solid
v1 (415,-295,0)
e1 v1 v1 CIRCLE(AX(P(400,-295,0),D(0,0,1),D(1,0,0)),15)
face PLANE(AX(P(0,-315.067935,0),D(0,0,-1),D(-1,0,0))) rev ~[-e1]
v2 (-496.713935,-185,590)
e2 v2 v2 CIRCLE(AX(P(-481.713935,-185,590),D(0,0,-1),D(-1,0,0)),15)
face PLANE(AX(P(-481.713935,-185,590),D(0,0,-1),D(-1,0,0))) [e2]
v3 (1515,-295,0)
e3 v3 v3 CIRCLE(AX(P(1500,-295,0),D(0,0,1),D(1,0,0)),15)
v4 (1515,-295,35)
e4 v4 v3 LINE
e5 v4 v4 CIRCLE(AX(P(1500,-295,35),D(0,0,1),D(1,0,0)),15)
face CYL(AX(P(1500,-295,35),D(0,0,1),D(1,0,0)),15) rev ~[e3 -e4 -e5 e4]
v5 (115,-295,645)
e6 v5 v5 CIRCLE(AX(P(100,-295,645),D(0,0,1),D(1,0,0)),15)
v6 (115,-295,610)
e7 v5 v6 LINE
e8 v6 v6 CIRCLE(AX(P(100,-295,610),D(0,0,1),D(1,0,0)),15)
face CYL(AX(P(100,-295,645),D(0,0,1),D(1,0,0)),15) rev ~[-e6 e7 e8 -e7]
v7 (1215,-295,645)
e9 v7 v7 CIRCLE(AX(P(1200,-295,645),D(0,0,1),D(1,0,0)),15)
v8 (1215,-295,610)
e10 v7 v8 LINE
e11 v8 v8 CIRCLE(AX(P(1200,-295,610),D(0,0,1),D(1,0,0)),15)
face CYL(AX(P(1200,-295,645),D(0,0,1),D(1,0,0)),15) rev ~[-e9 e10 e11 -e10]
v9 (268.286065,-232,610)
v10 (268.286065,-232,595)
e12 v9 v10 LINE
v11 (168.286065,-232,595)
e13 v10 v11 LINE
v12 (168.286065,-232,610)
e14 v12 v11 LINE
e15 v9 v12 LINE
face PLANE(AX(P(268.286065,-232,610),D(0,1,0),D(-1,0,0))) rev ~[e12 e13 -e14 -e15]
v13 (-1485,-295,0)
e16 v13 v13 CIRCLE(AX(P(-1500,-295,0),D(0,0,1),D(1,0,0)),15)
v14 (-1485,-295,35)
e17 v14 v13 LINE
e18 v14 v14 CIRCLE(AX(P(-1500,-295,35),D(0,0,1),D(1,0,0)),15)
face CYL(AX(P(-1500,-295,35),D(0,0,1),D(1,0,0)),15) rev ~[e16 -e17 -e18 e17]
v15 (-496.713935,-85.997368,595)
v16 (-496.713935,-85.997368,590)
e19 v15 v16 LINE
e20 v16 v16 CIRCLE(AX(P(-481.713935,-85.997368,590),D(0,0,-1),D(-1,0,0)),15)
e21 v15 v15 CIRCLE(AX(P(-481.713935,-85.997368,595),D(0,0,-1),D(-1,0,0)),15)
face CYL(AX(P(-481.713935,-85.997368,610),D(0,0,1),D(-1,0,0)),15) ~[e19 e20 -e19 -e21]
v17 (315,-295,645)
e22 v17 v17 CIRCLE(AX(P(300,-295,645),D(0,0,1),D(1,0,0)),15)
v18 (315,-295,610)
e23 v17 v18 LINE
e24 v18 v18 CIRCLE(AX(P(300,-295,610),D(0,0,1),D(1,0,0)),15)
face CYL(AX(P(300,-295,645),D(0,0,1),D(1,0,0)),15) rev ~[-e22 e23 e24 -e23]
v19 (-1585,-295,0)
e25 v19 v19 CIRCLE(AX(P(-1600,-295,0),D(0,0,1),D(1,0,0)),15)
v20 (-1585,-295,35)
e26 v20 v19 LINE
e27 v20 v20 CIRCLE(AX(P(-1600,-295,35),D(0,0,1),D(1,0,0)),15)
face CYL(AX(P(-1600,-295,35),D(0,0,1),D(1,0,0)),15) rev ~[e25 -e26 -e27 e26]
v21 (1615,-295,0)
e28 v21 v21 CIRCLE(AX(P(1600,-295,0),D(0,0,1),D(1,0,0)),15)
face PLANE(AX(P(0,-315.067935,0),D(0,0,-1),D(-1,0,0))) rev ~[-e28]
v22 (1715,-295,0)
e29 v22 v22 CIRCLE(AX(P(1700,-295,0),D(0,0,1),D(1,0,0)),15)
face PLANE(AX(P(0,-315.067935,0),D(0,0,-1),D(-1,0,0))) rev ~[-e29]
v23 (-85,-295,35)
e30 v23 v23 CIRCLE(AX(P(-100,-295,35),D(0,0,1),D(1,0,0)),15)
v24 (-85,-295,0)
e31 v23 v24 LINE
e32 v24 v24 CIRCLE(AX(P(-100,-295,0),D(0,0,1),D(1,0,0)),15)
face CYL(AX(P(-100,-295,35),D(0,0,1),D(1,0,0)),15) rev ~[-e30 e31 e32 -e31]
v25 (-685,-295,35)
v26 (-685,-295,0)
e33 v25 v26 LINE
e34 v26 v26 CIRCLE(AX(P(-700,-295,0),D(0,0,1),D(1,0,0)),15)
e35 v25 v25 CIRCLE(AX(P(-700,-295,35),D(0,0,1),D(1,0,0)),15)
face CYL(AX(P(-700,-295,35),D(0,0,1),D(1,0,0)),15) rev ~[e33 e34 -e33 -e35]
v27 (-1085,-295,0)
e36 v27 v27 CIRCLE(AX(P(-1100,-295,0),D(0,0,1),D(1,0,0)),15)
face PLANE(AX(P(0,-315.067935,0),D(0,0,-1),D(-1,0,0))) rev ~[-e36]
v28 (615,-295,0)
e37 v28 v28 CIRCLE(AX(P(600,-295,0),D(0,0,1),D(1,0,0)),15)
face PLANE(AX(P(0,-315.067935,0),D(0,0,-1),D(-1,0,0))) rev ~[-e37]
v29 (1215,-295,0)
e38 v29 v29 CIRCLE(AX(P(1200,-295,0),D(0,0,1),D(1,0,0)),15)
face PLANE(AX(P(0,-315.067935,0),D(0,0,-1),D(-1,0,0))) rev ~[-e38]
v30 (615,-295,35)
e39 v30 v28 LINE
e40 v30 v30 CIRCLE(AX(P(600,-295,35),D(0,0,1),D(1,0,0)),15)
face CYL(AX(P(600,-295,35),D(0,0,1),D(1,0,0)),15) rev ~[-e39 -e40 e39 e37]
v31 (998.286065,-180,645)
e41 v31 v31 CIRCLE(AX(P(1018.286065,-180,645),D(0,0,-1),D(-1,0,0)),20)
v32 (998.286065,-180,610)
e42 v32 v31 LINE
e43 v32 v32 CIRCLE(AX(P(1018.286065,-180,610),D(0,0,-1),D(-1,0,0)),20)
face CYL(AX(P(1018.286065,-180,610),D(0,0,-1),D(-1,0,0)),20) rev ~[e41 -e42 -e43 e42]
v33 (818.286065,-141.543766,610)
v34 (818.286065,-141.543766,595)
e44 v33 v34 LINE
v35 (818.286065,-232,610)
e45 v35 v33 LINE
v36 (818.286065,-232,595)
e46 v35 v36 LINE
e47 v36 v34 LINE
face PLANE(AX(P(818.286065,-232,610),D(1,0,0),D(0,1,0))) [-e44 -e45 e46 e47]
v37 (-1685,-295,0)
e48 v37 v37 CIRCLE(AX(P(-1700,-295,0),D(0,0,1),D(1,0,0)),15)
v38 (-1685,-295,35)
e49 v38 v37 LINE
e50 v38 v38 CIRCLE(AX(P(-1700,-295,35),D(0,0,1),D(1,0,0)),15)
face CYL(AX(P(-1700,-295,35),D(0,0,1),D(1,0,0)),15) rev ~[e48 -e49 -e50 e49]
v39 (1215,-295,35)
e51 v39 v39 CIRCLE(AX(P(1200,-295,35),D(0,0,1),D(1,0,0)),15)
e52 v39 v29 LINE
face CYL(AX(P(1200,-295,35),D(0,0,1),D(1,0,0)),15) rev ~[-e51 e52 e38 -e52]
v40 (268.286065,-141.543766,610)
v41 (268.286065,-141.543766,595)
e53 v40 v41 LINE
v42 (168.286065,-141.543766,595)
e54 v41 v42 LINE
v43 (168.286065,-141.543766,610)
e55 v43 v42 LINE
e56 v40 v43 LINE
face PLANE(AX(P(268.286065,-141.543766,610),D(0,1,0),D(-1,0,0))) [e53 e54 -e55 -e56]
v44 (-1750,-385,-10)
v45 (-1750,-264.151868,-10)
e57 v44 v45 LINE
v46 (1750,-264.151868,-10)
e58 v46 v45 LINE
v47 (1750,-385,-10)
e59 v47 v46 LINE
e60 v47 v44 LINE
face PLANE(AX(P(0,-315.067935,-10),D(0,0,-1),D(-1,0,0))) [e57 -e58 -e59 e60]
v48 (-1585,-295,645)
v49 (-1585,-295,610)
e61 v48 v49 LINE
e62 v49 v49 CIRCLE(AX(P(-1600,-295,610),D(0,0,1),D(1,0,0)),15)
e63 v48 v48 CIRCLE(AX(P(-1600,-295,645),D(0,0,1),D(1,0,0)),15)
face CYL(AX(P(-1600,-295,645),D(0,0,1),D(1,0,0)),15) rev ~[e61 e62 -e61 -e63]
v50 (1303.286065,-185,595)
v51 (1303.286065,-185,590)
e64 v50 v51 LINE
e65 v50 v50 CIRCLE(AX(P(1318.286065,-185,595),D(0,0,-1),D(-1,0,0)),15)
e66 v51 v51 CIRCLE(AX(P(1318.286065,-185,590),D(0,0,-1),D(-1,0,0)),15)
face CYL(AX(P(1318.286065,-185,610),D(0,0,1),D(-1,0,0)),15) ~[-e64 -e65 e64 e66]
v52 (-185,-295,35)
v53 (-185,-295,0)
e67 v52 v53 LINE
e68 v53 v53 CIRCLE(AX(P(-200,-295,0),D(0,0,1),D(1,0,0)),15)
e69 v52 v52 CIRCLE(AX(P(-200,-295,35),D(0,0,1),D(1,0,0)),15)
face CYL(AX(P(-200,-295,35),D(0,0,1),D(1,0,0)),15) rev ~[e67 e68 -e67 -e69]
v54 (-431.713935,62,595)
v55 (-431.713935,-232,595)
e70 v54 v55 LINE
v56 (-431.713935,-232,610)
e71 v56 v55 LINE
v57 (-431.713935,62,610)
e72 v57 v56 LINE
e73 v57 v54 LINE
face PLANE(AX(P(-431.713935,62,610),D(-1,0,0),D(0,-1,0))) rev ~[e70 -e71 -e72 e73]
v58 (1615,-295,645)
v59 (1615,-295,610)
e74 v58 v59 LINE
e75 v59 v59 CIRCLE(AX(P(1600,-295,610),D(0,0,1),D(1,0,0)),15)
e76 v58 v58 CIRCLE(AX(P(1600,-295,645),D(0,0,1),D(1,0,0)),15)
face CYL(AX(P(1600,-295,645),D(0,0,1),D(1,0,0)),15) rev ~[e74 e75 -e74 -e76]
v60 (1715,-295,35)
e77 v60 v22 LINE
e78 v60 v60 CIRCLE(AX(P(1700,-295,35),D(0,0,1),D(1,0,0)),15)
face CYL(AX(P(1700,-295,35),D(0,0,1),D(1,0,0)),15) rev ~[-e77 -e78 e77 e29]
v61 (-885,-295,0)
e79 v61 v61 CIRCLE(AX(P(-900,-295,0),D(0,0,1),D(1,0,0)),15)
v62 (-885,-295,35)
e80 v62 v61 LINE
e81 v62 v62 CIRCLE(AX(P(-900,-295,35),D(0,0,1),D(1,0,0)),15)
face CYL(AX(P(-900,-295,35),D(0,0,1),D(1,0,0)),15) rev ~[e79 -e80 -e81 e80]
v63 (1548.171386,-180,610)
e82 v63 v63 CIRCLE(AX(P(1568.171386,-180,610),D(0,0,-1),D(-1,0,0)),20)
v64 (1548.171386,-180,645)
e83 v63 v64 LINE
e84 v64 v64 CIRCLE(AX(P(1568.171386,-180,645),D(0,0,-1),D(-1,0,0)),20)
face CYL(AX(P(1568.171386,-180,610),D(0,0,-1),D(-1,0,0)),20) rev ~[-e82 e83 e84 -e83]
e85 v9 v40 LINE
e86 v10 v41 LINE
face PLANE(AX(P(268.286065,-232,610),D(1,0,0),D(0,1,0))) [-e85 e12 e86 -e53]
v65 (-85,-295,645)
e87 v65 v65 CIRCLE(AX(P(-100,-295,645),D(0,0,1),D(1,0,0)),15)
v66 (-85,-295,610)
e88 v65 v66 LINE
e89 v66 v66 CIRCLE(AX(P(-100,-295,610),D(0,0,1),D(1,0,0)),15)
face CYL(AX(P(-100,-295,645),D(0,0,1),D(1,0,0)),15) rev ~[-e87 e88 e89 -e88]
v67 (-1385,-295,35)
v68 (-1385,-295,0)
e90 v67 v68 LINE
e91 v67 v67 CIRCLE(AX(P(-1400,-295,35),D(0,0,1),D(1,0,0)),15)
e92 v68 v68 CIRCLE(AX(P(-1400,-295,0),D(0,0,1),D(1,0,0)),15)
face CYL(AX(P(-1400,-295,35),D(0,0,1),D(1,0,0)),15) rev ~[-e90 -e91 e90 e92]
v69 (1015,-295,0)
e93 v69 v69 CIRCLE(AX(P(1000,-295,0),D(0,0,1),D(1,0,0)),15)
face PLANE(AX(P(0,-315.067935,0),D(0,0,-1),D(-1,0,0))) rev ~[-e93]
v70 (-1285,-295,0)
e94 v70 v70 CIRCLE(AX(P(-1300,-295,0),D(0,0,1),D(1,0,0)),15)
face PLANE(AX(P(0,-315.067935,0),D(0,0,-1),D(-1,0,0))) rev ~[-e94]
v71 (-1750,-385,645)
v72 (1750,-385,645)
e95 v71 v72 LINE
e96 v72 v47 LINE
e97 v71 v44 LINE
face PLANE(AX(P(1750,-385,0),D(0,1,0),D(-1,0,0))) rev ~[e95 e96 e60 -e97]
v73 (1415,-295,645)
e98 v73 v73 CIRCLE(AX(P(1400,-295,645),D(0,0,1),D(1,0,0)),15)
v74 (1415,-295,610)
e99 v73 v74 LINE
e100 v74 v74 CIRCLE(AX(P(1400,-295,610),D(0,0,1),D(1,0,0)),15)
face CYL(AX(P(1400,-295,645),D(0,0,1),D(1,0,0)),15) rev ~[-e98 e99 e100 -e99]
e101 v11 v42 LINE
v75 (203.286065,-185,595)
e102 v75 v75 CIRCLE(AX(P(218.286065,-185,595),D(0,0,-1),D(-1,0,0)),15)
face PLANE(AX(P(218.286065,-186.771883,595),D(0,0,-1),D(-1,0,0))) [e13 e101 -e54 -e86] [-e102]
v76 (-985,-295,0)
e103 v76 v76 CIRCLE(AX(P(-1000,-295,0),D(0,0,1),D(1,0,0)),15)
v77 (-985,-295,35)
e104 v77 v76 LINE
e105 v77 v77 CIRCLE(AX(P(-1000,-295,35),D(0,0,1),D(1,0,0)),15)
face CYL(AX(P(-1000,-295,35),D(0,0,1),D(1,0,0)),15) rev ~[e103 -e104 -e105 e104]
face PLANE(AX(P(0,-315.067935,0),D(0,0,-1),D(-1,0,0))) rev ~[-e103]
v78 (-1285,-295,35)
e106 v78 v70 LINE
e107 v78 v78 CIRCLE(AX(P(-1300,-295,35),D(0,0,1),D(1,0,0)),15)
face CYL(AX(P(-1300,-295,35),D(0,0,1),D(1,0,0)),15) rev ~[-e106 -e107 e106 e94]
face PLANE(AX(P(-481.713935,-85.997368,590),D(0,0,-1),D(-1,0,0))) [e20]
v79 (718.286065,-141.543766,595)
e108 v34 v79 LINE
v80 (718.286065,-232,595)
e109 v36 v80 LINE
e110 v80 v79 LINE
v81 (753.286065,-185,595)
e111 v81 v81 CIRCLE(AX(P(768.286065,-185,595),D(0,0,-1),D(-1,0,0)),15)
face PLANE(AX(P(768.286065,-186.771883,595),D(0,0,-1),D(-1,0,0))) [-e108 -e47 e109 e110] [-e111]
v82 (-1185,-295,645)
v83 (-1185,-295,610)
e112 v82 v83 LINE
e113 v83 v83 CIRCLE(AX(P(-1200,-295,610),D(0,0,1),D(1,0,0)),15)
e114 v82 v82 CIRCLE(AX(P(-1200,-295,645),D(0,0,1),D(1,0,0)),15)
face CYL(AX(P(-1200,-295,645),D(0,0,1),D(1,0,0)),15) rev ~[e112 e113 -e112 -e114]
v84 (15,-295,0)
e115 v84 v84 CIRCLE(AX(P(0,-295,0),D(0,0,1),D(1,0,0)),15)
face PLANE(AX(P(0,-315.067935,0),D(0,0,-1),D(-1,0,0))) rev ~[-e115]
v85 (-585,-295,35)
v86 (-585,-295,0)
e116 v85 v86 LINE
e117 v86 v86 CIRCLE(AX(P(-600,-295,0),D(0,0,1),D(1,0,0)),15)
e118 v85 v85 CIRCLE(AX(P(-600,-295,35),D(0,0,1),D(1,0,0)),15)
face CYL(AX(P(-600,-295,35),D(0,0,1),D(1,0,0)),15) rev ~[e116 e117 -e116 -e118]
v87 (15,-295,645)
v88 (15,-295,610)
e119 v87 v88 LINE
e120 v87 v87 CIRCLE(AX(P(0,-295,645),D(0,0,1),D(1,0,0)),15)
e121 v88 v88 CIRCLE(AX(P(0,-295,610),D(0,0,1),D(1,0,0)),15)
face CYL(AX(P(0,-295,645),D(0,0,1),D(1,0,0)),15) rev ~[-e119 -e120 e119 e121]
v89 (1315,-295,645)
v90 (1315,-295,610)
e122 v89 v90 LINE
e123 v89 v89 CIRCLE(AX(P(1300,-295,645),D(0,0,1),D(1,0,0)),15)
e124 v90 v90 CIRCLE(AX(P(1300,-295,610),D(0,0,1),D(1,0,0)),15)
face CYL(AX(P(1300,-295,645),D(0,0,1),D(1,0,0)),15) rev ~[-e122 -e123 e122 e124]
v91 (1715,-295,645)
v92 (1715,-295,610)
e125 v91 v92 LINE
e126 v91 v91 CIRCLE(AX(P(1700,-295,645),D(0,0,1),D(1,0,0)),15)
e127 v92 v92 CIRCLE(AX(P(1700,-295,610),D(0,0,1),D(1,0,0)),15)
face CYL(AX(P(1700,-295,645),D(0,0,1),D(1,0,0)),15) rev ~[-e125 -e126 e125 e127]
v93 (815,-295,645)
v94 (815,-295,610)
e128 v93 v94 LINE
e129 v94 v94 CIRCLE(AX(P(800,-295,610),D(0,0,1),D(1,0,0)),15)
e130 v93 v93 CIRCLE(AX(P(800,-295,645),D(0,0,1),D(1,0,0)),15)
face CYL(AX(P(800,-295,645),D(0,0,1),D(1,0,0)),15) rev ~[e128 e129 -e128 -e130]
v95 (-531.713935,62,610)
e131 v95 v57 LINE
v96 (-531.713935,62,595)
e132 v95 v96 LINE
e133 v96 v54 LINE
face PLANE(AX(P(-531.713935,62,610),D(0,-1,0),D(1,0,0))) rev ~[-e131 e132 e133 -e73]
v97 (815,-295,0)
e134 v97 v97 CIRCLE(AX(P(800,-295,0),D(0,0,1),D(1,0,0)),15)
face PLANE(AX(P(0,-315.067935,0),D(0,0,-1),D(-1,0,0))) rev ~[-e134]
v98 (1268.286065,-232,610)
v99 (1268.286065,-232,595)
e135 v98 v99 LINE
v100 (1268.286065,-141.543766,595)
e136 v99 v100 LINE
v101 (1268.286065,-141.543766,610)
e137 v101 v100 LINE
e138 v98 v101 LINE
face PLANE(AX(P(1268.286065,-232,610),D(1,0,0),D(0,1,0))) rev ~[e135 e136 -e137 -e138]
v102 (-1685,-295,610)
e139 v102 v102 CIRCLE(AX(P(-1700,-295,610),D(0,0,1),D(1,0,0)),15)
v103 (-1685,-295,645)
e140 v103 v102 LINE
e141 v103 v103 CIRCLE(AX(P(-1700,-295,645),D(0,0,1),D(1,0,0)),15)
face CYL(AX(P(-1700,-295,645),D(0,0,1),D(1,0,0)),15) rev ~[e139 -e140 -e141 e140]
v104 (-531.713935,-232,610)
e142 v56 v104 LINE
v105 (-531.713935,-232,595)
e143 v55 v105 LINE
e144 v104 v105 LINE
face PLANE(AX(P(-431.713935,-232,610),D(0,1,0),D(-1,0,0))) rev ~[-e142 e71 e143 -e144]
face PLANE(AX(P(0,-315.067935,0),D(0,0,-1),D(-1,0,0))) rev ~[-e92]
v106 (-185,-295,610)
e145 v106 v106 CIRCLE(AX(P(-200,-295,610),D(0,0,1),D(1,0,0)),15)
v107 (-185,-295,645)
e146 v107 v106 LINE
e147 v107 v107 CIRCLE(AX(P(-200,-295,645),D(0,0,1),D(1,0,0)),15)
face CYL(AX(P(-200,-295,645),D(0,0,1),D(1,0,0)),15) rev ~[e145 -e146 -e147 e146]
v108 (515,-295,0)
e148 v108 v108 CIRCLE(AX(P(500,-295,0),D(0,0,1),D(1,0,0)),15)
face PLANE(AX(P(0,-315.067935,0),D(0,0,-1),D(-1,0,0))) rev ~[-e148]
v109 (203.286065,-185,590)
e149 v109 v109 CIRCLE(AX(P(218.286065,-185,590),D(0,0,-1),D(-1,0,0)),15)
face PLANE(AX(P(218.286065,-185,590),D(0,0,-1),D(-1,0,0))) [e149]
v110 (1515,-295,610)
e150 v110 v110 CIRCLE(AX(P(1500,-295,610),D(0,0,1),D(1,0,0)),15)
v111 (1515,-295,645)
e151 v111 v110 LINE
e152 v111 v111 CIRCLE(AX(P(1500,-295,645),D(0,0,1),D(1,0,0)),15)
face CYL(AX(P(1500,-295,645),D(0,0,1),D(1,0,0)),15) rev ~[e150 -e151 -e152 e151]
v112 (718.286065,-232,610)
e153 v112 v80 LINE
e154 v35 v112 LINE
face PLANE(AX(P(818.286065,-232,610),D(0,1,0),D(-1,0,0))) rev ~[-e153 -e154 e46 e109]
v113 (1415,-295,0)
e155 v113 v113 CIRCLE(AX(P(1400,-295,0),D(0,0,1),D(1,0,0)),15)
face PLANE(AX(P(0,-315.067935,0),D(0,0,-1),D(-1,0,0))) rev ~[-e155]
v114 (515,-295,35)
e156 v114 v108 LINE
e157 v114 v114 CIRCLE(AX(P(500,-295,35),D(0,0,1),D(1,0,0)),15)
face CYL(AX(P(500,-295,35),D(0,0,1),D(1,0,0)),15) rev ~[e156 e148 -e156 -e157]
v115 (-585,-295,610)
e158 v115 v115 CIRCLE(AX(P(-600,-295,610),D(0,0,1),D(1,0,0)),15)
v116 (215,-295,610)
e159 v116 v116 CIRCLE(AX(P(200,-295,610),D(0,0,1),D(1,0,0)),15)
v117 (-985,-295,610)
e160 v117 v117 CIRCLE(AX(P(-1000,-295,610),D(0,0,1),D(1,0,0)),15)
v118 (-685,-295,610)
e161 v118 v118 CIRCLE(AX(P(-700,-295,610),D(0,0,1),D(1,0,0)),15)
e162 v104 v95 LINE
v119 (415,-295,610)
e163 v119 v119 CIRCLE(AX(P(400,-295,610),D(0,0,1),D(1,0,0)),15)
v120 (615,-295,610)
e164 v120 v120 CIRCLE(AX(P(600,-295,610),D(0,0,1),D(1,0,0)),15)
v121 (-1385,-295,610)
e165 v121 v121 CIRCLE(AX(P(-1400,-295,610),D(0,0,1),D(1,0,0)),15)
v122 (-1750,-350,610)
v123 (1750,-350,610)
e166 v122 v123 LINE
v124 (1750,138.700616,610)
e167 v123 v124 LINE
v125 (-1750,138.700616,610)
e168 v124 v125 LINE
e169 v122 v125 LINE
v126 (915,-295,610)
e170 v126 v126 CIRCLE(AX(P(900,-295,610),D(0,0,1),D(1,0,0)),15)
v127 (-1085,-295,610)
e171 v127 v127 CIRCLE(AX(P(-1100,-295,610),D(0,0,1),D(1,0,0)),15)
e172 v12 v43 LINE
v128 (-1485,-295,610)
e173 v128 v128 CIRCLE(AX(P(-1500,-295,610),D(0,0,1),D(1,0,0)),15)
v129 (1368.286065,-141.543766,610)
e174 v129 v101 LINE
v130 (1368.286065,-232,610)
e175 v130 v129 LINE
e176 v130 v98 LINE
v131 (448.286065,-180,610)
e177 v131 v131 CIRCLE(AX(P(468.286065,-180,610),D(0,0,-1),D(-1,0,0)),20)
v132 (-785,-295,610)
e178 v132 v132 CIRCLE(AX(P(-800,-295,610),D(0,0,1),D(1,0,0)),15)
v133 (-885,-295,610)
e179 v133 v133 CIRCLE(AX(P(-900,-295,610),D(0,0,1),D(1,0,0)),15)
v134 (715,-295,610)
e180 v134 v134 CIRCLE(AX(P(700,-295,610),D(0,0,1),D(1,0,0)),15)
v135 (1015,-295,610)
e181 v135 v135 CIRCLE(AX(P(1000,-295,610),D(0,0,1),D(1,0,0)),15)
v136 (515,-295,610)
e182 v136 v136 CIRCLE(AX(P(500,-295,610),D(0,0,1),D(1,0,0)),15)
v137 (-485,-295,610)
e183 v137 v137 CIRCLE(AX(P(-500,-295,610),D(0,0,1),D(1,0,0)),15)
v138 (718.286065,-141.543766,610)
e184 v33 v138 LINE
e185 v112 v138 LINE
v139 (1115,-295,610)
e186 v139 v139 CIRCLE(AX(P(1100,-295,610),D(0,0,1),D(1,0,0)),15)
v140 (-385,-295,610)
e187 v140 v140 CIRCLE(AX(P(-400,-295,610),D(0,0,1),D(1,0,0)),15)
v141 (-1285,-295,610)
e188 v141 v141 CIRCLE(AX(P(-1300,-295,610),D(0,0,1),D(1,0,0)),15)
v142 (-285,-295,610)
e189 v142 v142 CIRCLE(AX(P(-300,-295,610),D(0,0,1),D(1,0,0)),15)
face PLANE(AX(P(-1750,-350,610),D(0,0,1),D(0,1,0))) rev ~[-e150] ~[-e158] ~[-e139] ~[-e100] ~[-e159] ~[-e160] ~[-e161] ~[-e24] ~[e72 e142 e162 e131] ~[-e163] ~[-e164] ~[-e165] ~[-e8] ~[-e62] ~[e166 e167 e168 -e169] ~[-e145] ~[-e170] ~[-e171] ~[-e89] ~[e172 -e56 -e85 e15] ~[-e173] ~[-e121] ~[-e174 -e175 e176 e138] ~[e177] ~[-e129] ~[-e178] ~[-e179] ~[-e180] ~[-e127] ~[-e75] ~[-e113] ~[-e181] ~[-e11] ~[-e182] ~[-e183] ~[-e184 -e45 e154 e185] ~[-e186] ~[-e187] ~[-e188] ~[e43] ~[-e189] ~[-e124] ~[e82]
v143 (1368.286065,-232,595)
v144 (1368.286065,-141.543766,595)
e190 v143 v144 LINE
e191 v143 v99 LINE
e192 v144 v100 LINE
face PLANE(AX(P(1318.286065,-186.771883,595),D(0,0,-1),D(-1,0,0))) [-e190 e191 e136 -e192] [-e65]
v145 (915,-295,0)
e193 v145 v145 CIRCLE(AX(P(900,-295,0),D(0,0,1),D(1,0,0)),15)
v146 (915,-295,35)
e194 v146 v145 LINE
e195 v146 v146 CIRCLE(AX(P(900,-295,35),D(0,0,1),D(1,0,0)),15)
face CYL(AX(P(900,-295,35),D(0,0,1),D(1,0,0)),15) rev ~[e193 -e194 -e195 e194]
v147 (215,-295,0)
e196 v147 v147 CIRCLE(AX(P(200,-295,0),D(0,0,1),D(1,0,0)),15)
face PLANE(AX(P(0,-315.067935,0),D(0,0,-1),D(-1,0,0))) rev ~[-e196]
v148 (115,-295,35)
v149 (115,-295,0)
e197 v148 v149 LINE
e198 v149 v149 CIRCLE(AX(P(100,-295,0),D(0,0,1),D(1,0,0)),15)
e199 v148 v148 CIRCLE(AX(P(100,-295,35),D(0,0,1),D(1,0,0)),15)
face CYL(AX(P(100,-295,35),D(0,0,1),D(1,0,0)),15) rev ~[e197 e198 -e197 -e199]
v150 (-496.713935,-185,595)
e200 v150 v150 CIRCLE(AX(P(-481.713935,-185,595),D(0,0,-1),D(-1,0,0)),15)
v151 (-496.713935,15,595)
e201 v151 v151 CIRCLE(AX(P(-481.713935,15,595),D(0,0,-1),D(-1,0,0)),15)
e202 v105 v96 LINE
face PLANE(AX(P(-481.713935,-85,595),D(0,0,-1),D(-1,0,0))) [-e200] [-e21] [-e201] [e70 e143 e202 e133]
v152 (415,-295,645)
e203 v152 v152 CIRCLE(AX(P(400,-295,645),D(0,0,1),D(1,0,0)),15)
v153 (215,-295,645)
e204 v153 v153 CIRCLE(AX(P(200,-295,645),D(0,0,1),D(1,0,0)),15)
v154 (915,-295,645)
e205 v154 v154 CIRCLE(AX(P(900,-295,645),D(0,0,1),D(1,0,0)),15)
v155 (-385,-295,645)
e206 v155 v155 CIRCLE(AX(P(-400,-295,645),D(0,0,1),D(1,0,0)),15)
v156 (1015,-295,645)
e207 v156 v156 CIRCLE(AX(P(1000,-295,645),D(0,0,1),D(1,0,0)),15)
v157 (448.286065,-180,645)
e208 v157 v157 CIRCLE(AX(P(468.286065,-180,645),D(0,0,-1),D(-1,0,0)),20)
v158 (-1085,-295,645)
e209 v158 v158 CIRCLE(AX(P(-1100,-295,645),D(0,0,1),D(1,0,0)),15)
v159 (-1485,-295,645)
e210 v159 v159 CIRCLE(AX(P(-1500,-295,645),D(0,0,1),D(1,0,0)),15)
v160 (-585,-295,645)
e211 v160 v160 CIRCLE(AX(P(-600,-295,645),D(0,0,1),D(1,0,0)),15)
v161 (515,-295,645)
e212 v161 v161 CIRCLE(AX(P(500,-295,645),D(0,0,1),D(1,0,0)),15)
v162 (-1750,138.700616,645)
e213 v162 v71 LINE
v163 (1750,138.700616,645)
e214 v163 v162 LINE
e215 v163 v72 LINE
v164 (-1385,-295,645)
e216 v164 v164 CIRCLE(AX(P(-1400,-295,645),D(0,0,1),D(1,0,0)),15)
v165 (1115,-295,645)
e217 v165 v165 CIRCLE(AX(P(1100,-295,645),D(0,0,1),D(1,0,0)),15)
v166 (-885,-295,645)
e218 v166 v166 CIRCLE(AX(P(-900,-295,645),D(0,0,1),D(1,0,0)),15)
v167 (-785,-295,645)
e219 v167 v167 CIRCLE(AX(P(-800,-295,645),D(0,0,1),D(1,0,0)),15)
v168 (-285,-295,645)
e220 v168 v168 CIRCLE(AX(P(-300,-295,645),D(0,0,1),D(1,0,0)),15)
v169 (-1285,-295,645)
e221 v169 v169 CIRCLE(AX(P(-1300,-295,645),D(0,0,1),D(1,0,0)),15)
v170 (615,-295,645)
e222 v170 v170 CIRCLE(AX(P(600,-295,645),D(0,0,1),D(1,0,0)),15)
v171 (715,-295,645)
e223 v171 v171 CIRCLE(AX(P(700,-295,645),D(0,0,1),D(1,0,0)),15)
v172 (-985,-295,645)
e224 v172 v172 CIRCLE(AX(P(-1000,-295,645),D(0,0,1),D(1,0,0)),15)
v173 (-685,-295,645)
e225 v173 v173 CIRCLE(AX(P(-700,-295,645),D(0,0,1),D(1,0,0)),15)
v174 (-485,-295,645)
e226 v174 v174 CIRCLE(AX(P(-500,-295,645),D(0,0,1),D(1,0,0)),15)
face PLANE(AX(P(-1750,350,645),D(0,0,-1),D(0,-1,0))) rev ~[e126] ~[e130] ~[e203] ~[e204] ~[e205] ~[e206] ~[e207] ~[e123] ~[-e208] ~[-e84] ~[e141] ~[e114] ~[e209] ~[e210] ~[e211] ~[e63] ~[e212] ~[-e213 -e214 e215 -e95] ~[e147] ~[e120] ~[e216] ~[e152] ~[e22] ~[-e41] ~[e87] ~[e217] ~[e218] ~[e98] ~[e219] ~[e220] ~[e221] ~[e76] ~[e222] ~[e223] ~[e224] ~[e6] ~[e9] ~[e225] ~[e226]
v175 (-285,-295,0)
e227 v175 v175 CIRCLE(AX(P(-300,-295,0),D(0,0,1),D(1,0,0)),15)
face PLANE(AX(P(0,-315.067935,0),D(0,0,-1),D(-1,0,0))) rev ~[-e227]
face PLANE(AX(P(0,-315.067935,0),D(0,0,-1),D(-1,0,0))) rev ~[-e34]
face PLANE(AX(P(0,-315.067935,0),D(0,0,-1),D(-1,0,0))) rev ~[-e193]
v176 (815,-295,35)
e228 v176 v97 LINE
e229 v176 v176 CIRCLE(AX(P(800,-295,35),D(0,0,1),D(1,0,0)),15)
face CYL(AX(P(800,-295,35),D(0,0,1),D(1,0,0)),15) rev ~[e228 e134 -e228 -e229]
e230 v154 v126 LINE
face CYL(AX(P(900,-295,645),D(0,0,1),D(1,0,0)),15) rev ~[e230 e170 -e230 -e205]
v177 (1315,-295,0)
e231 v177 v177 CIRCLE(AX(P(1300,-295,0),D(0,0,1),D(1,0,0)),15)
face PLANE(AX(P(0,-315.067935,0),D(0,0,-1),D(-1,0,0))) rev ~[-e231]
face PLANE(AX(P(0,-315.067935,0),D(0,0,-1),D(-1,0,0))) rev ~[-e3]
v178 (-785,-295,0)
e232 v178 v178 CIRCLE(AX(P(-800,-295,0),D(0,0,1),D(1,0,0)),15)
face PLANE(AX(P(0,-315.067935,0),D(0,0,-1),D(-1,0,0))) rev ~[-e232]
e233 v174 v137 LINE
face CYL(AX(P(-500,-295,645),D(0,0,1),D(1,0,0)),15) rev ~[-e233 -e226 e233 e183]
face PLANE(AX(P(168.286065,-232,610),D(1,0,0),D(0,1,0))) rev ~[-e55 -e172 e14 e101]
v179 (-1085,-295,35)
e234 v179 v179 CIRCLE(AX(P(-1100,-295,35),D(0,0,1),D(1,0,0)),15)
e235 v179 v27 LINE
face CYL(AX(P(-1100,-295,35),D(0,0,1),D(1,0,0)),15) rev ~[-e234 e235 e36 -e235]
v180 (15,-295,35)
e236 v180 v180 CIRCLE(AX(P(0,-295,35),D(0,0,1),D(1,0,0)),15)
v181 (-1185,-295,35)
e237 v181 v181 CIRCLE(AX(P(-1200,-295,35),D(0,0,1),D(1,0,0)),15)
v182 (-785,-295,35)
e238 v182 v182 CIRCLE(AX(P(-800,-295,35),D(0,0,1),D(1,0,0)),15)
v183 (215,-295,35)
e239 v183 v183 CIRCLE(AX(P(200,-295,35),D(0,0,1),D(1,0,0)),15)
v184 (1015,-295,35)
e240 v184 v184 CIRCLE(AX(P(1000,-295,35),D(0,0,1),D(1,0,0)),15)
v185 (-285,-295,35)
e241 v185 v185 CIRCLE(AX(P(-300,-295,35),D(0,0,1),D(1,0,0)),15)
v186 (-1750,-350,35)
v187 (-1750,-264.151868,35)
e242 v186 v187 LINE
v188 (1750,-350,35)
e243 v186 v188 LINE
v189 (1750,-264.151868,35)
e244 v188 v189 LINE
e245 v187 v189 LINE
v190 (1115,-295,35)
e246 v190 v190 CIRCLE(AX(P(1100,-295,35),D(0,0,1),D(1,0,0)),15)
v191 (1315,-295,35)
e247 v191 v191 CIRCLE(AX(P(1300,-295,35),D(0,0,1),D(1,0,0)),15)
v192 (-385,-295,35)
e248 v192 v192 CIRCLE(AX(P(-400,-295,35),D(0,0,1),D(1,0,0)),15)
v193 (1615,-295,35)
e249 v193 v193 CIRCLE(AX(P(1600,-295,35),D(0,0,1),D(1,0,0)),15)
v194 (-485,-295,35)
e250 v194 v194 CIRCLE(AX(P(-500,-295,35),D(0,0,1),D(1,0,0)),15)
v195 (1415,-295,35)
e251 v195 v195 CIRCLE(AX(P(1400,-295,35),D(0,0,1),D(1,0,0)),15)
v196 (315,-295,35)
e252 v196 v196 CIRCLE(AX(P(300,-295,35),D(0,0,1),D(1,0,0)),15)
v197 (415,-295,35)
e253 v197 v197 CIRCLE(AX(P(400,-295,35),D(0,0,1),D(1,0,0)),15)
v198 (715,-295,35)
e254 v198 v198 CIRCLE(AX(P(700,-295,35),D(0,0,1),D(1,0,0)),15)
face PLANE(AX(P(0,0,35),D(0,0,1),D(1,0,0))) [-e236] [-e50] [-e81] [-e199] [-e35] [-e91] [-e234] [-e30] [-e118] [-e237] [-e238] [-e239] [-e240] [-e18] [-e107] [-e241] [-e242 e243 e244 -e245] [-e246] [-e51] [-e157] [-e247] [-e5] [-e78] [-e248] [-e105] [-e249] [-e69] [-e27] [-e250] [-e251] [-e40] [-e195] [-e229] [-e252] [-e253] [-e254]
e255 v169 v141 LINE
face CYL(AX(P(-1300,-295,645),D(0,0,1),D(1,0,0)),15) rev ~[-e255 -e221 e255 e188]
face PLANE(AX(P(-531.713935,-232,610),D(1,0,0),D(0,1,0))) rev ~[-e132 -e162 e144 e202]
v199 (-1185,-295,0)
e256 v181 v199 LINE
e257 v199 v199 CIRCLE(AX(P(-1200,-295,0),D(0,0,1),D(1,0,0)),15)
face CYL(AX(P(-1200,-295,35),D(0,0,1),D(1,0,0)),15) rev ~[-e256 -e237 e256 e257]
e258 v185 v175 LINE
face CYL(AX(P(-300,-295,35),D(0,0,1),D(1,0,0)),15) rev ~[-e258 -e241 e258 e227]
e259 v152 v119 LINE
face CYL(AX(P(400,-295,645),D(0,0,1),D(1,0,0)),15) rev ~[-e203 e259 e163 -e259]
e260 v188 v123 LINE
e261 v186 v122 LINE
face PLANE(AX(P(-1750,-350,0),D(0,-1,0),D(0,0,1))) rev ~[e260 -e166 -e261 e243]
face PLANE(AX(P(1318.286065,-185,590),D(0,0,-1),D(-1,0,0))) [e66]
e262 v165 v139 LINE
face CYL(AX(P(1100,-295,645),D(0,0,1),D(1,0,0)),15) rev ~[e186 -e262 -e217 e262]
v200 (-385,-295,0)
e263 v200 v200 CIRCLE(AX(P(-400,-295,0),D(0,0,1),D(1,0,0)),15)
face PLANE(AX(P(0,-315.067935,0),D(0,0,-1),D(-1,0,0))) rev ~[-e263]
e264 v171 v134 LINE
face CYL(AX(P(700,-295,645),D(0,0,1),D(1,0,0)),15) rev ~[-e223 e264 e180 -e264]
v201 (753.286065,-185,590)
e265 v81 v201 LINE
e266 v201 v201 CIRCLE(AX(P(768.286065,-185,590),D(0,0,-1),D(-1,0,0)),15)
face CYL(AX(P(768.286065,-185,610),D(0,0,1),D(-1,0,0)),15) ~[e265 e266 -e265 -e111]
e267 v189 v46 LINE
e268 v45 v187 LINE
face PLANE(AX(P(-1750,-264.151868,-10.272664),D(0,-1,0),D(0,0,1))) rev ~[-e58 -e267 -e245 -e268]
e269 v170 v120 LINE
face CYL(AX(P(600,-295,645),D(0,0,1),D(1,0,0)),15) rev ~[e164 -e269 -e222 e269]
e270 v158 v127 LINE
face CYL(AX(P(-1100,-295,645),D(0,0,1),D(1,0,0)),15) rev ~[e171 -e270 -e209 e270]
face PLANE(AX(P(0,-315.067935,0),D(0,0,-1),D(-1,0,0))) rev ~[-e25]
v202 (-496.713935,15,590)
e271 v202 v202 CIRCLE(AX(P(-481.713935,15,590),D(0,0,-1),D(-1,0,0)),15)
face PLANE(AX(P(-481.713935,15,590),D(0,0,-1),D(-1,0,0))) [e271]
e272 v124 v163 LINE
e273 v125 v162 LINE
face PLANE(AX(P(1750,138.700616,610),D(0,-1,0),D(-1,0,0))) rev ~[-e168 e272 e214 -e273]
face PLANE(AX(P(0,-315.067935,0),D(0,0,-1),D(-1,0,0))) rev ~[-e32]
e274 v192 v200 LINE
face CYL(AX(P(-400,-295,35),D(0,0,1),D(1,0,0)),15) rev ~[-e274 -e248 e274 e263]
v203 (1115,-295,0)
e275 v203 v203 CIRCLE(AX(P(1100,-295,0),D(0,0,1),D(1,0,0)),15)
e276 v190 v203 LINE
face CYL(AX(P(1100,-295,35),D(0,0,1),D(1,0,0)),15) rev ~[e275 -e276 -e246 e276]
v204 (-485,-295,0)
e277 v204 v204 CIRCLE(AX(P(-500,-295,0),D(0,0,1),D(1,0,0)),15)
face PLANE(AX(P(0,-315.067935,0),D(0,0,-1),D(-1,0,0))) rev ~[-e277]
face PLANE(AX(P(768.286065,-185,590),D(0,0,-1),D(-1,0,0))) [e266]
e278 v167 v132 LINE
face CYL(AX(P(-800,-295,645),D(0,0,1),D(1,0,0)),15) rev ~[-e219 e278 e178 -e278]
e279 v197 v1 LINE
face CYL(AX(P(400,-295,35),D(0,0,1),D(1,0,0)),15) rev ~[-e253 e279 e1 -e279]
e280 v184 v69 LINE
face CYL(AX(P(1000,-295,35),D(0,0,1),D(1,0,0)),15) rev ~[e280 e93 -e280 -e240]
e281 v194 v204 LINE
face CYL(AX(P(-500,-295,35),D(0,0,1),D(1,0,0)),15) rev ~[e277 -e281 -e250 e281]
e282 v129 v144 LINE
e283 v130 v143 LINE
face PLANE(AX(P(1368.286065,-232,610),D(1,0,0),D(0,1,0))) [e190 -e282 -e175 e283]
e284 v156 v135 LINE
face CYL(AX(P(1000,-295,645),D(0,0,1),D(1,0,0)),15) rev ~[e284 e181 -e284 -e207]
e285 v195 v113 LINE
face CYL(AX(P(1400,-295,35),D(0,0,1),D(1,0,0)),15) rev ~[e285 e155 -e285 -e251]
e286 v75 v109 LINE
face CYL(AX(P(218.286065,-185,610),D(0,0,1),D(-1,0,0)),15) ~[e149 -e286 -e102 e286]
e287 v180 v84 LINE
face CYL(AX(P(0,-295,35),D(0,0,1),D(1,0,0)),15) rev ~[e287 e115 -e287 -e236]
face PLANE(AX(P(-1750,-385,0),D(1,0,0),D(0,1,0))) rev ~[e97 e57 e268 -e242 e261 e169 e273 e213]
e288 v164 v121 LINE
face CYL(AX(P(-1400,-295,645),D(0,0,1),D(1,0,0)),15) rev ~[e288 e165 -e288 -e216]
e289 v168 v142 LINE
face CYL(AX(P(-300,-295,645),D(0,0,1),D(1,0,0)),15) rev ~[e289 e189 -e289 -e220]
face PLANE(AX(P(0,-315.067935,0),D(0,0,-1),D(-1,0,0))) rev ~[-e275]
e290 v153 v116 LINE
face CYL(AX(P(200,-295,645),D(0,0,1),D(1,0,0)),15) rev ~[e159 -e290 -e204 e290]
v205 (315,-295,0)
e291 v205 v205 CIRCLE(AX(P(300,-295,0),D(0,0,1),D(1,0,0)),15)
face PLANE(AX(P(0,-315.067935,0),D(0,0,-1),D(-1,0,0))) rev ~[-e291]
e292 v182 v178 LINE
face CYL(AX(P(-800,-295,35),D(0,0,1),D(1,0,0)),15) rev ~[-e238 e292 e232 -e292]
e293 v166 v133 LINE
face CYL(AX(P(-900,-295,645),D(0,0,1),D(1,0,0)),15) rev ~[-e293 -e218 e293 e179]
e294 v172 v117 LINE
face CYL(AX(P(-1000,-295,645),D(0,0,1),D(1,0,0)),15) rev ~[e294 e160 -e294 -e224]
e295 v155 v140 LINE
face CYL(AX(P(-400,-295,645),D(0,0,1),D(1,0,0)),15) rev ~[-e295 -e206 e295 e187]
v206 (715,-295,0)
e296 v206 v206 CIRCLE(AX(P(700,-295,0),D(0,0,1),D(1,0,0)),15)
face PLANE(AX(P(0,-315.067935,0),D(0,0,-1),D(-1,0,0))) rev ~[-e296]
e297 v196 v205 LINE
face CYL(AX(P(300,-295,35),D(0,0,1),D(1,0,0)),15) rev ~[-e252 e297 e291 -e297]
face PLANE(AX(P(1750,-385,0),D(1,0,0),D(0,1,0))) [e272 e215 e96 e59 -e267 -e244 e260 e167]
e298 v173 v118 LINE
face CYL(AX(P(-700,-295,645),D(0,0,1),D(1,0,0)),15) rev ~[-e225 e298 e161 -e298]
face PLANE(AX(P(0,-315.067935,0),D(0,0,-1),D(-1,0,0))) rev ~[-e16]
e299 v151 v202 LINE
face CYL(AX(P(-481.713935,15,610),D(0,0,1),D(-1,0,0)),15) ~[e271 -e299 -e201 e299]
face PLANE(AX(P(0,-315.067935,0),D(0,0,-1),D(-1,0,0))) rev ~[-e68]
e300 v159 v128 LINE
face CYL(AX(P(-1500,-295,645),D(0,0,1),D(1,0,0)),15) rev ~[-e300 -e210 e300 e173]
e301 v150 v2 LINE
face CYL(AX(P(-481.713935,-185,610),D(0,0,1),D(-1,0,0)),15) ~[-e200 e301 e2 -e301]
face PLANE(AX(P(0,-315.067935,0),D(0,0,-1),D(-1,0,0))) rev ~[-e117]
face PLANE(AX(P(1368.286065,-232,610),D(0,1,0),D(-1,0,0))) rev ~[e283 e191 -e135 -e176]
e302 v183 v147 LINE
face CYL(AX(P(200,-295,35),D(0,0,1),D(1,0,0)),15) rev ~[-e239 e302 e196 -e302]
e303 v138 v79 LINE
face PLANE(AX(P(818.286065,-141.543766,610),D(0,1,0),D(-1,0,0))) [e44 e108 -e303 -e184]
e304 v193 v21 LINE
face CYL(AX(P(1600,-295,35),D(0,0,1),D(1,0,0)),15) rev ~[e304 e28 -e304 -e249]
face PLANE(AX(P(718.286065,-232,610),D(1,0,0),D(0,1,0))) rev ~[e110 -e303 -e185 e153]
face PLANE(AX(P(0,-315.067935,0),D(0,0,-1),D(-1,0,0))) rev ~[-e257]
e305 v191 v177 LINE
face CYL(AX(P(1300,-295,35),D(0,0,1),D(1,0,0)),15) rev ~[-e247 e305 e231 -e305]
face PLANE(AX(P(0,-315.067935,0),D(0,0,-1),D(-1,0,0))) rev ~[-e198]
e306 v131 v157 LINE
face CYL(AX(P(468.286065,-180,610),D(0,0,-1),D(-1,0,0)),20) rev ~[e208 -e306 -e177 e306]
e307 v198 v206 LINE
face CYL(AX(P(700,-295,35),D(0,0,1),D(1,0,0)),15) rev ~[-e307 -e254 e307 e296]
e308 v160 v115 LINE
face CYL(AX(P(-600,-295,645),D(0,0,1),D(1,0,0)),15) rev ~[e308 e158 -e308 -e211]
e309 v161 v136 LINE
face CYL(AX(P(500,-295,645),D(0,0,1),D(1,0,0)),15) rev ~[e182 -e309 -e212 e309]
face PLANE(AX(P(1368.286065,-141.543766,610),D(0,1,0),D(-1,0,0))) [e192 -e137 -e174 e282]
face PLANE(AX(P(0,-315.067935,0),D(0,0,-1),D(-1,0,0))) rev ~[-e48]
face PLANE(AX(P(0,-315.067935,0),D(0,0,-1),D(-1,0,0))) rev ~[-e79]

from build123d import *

# Parameters (mm, degrees)
SKETCH1_W           = 3500
SKETCH1_H           = 700
BOSS_EXTRUDE1_DEPTH = 35
SKETCH2_R           = 15
CUT_EXTRUDE1_DEPTH  = 36
EXTRUDE_THIN1_DEPTH = 3500
SKETCH4_R           = 15
CUT_EXTRUDE2_DEPTH  = 646
SKETCH6_W           = 3500
SKETCH6_H           = 104.864129743
SKETCH6_H_2         = 490.271740514
CUT_EXTRUDE4_DEPTH  = 80
SKETCH7_W           = 3500
SKETCH7_H           = 139.864129743
BOSS_EXTRUDE2_DEPTH = 10
SKETCH8_R           = 15
SKETCH8_W           = 100
SKETCH8_H           = 90.456234172
BOSS_EXTRUDE3_DEPTH = 15
SKETCH10_R          = 15
BOSS_EXTRUDE4_DEPTH = 20
SKETCH14_R          = 15
BOSS_EXTRUDE6_DEPTH = 20
SKETCH15_W          = 45.272663703
SKETCH15_H          = 22.376664335
CUT_EXTRUDE5_DEPTH  = 3501
SKETCH16_R          = 20
CUT_EXTRUDE6_DEPTH  = 36
SKETCH17_R          = 20
CUT_EXTRUDE7_DEPTH  = 36
SKETCH18_W          = 3500
SKETCH18_H          = 211.2993835
CUT_EXTRUDE8_DEPTH  = 36


with BuildPart() as part:
    # Sketch1 → Boss-Extrude1 (new body)
    with BuildSketch(Plane.XY):
        Rectangle(SKETCH1_W, SKETCH1_H)
    extrude(amount=BOSS_EXTRUDE1_DEPTH)

    # Sketch2 → Cut-Extrude1 (cut, through all)
    with BuildSketch(Plane.XY.offset(35)):
        with Locations((-1700, -295)):
            Circle(SKETCH2_R)
        with Locations((-1600, -295)):
            Circle(SKETCH2_R)
        with Locations((-1500, -295)):
            Circle(SKETCH2_R)
        with Locations((-1400, -295)):
            Circle(SKETCH2_R)
        with Locations((-1300, -295)):
            Circle(SKETCH2_R)
        with Locations((-1200, -295)):
            Circle(SKETCH2_R)
        with Locations((-1100, -295)):
            Circle(SKETCH2_R)
        with Locations((-1000, -295)):
            Circle(SKETCH2_R)
        with Locations((-900, -295)):
            Circle(SKETCH2_R)
        with Locations((-800, -295)):
            Circle(SKETCH2_R)
        with Locations((-700, -295)):
            Circle(SKETCH2_R)
        with Locations((-600, -295)):
            Circle(SKETCH2_R)
        with Locations((-500, -295)):
            Circle(SKETCH2_R)
        with Locations((-400, -295)):
            Circle(SKETCH2_R)
        with Locations((-300, -295)):
            Circle(SKETCH2_R)
        with Locations((-200, -295)):
            Circle(SKETCH2_R)
        with Locations((-100, -295)):
            Circle(SKETCH2_R)
        with Locations((100, -295)):
            Circle(SKETCH2_R)
        with Locations((200, -295)):
            Circle(SKETCH2_R)
        with Locations((300, -295)):
            Circle(SKETCH2_R)
        with Locations((400, -295)):
            Circle(SKETCH2_R)
        with Locations((500, -295)):
            Circle(SKETCH2_R)
        with Locations((600, -295)):
            Circle(SKETCH2_R)
        with Locations((700, -295)):
            Circle(SKETCH2_R)
        with Locations((800, -295)):
            Circle(SKETCH2_R)
        with Locations((900, -295)):
            Circle(SKETCH2_R)
        with Locations((1000, -295)):
            Circle(SKETCH2_R)
        with Locations((1100, -295)):
            Circle(SKETCH2_R)
        with Locations((1200, -295)):
            Circle(SKETCH2_R)
        with Locations((1300, -295)):
            Circle(SKETCH2_R)
        with Locations((1400, -295)):
            Circle(SKETCH2_R)
        with Locations((1500, -295)):
            Circle(SKETCH2_R)
        with Locations((1600, -295)):
            Circle(SKETCH2_R)
        with Locations((1700, -295)):
            Circle(SKETCH2_R)
        with Locations((0, -295)):
            Circle(SKETCH2_R)
    extrude(amount=-CUT_EXTRUDE1_DEPTH, mode=Mode.SUBTRACT)

    # Sketch3 → Extrude-Thin1 (add)
    with BuildSketch(Plane.ZY.offset(1750)):
        Polygon((0, -350), (610, -350), (610, 350), (645, 350), (645, -385), (0, -385), align=None)
    extrude(amount=-EXTRUDE_THIN1_DEPTH)

    # Sketch4 → Cut-Extrude2 (cut, through all)
    with BuildSketch(Plane.XY.offset(645)):
        with Locations((-1700, -295)):
            Circle(SKETCH4_R)
        with Locations((-1600, -295)):
            Circle(SKETCH4_R)
        with Locations((-1500, -295)):
            Circle(SKETCH4_R)
        with Locations((-1400, -295)):
            Circle(SKETCH4_R)
        with Locations((-1300, -295)):
            Circle(SKETCH4_R)
        with Locations((-1200, -295)):
            Circle(SKETCH4_R)
        with Locations((-1100, -295)):
            Circle(SKETCH4_R)
        with Locations((-1000, -295)):
            Circle(SKETCH4_R)
        with Locations((-900, -295)):
            Circle(SKETCH4_R)
        with Locations((-800, -295)):
            Circle(SKETCH4_R)
        with Locations((-700, -295)):
            Circle(SKETCH4_R)
        with Locations((-600, -295)):
            Circle(SKETCH4_R)
        with Locations((-500, -295)):
            Circle(SKETCH4_R)
        with Locations((-400, -295)):
            Circle(SKETCH4_R)
        with Locations((-300, -295)):
            Circle(SKETCH4_R)
        with Locations((-200, -295)):
            Circle(SKETCH4_R)
        with Locations((-100, -295)):
            Circle(SKETCH4_R)
        with Locations((0, -295)):
            Circle(SKETCH4_R)
        with Locations((100, -295)):
            Circle(SKETCH4_R)
        with Locations((200, -295)):
            Circle(SKETCH4_R)
        with Locations((300, -295)):
            Circle(SKETCH4_R)
        with Locations((400, -295)):
            Circle(SKETCH4_R)
        with Locations((500, -295)):
            Circle(SKETCH4_R)
        with Locations((600, -295)):
            Circle(SKETCH4_R)
        with Locations((700, -295)):
            Circle(SKETCH4_R)
        with Locations((800, -295)):
            Circle(SKETCH4_R)
        with Locations((900, -295)):
            Circle(SKETCH4_R)
        with Locations((1000, -295)):
            Circle(SKETCH4_R)
        with Locations((1100, -295)):
            Circle(SKETCH4_R)
        with Locations((1200, -295)):
            Circle(SKETCH4_R)
        with Locations((1300, -295)):
            Circle(SKETCH4_R)
        with Locations((1400, -295)):
            Circle(SKETCH4_R)
        with Locations((1500, -295)):
            Circle(SKETCH4_R)
        with Locations((1600, -295)):
            Circle(SKETCH4_R)
        with Locations((1700, -295)):
            Circle(SKETCH4_R)
    extrude(amount=-CUT_EXTRUDE2_DEPTH, mode=Mode.SUBTRACT)

    # Sketch6 → Cut-Extrude4 (cut)
    with BuildSketch(Plane(origin=(0, 0, 0), x_dir=(-1, 0, 0), z_dir=(0, 0, -1))):
        with Locations((0, 297.567935129)):
            Rectangle(SKETCH6_W, SKETCH6_H)
        Rectangle(SKETCH6_W, SKETCH6_H_2)
    extrude(amount=-CUT_EXTRUDE4_DEPTH, mode=Mode.SUBTRACT)

    # Sketch7 → Boss-Extrude2 (add)
    with BuildSketch(Plane(origin=(0, 0, 0), x_dir=(-1, 0, 0), z_dir=(0, 0, -1))):
        with Locations((0, -315.067935129)):
            Rectangle(SKETCH7_W, SKETCH7_H)
    extrude(amount=BOSS_EXTRUDE2_DEPTH)

    # Sketch8 → Boss-Extrude3 (add)
    with BuildSketch(Plane(origin=(0, 0, 610), x_dir=(-1, 0, 0), z_dir=(0, 0, -1))):
        Polygon((531.713934858, -29.74996251), (531.713934858, 62), (431.713934858, 62), (431.713934858, -32), (431.713934858, -232), (531.713934858, -232), align=None)
        with Locations((481.713934858, -185)):
            Circle(SKETCH8_R, mode=Mode.SUBTRACT)
        with Locations((481.713934858, 15)):
            Circle(SKETCH8_R, mode=Mode.SUBTRACT)
        with Locations((481.713934858, -85.997367662)):
            Circle(SKETCH8_R, mode=Mode.SUBTRACT)
        with Locations((-218.286065142, -186.771882914)):
            Rectangle(SKETCH8_W, SKETCH8_H)
        with Locations((-218.286065142, -185)):
            Circle(SKETCH8_R, mode=Mode.SUBTRACT)
        with Locations((-768.286065142, -186.771882914)):
            Rectangle(SKETCH8_W, SKETCH8_H)
        with Locations((-768.286065142, -185)):
            Circle(SKETCH8_R, mode=Mode.SUBTRACT)
        with Locations((-1318.286065142, -186.771882914)):
            Rectangle(SKETCH8_W, SKETCH8_H)
        with Locations((-1318.286065142, -185)):
            Circle(SKETCH8_R, mode=Mode.SUBTRACT)
    extrude(amount=BOSS_EXTRUDE3_DEPTH)

    # Sketch10 → Boss-Extrude4 (add)
    with BuildSketch(Plane(origin=(0, 0, 610), x_dir=(-1, 0, 0), z_dir=(0, 0, -1))):
        with Locations((481.713934858, 15)):
            Circle(SKETCH10_R)
        with Locations((481.713934858, -185)):
            Circle(SKETCH10_R)
        with Locations((481.713934858, -85.997367662)):
            Circle(SKETCH10_R)
    extrude(amount=BOSS_EXTRUDE4_DEPTH)

    # Sketch14 → Boss-Extrude6 (add)
    with BuildSketch(Plane(origin=(0, 0, 610), x_dir=(-1, 0, 0), z_dir=(0, 0, -1))):
        with Locations((-768.286065142, -185)):
            Circle(SKETCH14_R)
        with Locations((-1318.286065142, -185)):
            Circle(SKETCH14_R)
        with Locations((-218.286065142, -185)):
            Circle(SKETCH14_R)
    extrude(amount=BOSS_EXTRUDE6_DEPTH)

    # Sketch15 → Cut-Extrude5 (cut, through all)
    with BuildSketch(Plane.ZY.offset(1750)):
        with Locations((12.363668149, -252.963536078)):
            Rectangle(SKETCH15_W, SKETCH15_H)
    extrude(amount=-CUT_EXTRUDE5_DEPTH, mode=Mode.SUBTRACT)

    # Sketch16 → Cut-Extrude6 (cut, through all)
    with BuildSketch(Plane(origin=(0, 0, 610), x_dir=(-1, 0, 0), z_dir=(0, 0, -1))):
        with Locations((-468.286065142, -180)):
            Circle(SKETCH16_R)
    extrude(amount=-CUT_EXTRUDE6_DEPTH, mode=Mode.SUBTRACT)

    # Sketch17 → Cut-Extrude7 (cut, through all)
    with BuildSketch(Plane(origin=(0, 0, 610), x_dir=(-1, 0, 0), z_dir=(0, 0, -1))):
        with Locations((-1018.286065142, -180)):
            Circle(SKETCH17_R)
        with Locations((-1568.171386268, -180)):
            Circle(SKETCH17_R)
    extrude(amount=-CUT_EXTRUDE7_DEPTH, mode=Mode.SUBTRACT)

    # Sketch18 → Cut-Extrude8 (cut, through all)
    with BuildSketch(Plane(origin=(0, 0, 610), x_dir=(-1, 0, 0), z_dir=(0, 0, -1))):
        with Locations((0, 244.35030825)):
            Rectangle(SKETCH18_W, SKETCH18_H)
    extrude(amount=-CUT_EXTRUDE8_DEPTH, mode=Mode.SUBTRACT)


solid = part.part
